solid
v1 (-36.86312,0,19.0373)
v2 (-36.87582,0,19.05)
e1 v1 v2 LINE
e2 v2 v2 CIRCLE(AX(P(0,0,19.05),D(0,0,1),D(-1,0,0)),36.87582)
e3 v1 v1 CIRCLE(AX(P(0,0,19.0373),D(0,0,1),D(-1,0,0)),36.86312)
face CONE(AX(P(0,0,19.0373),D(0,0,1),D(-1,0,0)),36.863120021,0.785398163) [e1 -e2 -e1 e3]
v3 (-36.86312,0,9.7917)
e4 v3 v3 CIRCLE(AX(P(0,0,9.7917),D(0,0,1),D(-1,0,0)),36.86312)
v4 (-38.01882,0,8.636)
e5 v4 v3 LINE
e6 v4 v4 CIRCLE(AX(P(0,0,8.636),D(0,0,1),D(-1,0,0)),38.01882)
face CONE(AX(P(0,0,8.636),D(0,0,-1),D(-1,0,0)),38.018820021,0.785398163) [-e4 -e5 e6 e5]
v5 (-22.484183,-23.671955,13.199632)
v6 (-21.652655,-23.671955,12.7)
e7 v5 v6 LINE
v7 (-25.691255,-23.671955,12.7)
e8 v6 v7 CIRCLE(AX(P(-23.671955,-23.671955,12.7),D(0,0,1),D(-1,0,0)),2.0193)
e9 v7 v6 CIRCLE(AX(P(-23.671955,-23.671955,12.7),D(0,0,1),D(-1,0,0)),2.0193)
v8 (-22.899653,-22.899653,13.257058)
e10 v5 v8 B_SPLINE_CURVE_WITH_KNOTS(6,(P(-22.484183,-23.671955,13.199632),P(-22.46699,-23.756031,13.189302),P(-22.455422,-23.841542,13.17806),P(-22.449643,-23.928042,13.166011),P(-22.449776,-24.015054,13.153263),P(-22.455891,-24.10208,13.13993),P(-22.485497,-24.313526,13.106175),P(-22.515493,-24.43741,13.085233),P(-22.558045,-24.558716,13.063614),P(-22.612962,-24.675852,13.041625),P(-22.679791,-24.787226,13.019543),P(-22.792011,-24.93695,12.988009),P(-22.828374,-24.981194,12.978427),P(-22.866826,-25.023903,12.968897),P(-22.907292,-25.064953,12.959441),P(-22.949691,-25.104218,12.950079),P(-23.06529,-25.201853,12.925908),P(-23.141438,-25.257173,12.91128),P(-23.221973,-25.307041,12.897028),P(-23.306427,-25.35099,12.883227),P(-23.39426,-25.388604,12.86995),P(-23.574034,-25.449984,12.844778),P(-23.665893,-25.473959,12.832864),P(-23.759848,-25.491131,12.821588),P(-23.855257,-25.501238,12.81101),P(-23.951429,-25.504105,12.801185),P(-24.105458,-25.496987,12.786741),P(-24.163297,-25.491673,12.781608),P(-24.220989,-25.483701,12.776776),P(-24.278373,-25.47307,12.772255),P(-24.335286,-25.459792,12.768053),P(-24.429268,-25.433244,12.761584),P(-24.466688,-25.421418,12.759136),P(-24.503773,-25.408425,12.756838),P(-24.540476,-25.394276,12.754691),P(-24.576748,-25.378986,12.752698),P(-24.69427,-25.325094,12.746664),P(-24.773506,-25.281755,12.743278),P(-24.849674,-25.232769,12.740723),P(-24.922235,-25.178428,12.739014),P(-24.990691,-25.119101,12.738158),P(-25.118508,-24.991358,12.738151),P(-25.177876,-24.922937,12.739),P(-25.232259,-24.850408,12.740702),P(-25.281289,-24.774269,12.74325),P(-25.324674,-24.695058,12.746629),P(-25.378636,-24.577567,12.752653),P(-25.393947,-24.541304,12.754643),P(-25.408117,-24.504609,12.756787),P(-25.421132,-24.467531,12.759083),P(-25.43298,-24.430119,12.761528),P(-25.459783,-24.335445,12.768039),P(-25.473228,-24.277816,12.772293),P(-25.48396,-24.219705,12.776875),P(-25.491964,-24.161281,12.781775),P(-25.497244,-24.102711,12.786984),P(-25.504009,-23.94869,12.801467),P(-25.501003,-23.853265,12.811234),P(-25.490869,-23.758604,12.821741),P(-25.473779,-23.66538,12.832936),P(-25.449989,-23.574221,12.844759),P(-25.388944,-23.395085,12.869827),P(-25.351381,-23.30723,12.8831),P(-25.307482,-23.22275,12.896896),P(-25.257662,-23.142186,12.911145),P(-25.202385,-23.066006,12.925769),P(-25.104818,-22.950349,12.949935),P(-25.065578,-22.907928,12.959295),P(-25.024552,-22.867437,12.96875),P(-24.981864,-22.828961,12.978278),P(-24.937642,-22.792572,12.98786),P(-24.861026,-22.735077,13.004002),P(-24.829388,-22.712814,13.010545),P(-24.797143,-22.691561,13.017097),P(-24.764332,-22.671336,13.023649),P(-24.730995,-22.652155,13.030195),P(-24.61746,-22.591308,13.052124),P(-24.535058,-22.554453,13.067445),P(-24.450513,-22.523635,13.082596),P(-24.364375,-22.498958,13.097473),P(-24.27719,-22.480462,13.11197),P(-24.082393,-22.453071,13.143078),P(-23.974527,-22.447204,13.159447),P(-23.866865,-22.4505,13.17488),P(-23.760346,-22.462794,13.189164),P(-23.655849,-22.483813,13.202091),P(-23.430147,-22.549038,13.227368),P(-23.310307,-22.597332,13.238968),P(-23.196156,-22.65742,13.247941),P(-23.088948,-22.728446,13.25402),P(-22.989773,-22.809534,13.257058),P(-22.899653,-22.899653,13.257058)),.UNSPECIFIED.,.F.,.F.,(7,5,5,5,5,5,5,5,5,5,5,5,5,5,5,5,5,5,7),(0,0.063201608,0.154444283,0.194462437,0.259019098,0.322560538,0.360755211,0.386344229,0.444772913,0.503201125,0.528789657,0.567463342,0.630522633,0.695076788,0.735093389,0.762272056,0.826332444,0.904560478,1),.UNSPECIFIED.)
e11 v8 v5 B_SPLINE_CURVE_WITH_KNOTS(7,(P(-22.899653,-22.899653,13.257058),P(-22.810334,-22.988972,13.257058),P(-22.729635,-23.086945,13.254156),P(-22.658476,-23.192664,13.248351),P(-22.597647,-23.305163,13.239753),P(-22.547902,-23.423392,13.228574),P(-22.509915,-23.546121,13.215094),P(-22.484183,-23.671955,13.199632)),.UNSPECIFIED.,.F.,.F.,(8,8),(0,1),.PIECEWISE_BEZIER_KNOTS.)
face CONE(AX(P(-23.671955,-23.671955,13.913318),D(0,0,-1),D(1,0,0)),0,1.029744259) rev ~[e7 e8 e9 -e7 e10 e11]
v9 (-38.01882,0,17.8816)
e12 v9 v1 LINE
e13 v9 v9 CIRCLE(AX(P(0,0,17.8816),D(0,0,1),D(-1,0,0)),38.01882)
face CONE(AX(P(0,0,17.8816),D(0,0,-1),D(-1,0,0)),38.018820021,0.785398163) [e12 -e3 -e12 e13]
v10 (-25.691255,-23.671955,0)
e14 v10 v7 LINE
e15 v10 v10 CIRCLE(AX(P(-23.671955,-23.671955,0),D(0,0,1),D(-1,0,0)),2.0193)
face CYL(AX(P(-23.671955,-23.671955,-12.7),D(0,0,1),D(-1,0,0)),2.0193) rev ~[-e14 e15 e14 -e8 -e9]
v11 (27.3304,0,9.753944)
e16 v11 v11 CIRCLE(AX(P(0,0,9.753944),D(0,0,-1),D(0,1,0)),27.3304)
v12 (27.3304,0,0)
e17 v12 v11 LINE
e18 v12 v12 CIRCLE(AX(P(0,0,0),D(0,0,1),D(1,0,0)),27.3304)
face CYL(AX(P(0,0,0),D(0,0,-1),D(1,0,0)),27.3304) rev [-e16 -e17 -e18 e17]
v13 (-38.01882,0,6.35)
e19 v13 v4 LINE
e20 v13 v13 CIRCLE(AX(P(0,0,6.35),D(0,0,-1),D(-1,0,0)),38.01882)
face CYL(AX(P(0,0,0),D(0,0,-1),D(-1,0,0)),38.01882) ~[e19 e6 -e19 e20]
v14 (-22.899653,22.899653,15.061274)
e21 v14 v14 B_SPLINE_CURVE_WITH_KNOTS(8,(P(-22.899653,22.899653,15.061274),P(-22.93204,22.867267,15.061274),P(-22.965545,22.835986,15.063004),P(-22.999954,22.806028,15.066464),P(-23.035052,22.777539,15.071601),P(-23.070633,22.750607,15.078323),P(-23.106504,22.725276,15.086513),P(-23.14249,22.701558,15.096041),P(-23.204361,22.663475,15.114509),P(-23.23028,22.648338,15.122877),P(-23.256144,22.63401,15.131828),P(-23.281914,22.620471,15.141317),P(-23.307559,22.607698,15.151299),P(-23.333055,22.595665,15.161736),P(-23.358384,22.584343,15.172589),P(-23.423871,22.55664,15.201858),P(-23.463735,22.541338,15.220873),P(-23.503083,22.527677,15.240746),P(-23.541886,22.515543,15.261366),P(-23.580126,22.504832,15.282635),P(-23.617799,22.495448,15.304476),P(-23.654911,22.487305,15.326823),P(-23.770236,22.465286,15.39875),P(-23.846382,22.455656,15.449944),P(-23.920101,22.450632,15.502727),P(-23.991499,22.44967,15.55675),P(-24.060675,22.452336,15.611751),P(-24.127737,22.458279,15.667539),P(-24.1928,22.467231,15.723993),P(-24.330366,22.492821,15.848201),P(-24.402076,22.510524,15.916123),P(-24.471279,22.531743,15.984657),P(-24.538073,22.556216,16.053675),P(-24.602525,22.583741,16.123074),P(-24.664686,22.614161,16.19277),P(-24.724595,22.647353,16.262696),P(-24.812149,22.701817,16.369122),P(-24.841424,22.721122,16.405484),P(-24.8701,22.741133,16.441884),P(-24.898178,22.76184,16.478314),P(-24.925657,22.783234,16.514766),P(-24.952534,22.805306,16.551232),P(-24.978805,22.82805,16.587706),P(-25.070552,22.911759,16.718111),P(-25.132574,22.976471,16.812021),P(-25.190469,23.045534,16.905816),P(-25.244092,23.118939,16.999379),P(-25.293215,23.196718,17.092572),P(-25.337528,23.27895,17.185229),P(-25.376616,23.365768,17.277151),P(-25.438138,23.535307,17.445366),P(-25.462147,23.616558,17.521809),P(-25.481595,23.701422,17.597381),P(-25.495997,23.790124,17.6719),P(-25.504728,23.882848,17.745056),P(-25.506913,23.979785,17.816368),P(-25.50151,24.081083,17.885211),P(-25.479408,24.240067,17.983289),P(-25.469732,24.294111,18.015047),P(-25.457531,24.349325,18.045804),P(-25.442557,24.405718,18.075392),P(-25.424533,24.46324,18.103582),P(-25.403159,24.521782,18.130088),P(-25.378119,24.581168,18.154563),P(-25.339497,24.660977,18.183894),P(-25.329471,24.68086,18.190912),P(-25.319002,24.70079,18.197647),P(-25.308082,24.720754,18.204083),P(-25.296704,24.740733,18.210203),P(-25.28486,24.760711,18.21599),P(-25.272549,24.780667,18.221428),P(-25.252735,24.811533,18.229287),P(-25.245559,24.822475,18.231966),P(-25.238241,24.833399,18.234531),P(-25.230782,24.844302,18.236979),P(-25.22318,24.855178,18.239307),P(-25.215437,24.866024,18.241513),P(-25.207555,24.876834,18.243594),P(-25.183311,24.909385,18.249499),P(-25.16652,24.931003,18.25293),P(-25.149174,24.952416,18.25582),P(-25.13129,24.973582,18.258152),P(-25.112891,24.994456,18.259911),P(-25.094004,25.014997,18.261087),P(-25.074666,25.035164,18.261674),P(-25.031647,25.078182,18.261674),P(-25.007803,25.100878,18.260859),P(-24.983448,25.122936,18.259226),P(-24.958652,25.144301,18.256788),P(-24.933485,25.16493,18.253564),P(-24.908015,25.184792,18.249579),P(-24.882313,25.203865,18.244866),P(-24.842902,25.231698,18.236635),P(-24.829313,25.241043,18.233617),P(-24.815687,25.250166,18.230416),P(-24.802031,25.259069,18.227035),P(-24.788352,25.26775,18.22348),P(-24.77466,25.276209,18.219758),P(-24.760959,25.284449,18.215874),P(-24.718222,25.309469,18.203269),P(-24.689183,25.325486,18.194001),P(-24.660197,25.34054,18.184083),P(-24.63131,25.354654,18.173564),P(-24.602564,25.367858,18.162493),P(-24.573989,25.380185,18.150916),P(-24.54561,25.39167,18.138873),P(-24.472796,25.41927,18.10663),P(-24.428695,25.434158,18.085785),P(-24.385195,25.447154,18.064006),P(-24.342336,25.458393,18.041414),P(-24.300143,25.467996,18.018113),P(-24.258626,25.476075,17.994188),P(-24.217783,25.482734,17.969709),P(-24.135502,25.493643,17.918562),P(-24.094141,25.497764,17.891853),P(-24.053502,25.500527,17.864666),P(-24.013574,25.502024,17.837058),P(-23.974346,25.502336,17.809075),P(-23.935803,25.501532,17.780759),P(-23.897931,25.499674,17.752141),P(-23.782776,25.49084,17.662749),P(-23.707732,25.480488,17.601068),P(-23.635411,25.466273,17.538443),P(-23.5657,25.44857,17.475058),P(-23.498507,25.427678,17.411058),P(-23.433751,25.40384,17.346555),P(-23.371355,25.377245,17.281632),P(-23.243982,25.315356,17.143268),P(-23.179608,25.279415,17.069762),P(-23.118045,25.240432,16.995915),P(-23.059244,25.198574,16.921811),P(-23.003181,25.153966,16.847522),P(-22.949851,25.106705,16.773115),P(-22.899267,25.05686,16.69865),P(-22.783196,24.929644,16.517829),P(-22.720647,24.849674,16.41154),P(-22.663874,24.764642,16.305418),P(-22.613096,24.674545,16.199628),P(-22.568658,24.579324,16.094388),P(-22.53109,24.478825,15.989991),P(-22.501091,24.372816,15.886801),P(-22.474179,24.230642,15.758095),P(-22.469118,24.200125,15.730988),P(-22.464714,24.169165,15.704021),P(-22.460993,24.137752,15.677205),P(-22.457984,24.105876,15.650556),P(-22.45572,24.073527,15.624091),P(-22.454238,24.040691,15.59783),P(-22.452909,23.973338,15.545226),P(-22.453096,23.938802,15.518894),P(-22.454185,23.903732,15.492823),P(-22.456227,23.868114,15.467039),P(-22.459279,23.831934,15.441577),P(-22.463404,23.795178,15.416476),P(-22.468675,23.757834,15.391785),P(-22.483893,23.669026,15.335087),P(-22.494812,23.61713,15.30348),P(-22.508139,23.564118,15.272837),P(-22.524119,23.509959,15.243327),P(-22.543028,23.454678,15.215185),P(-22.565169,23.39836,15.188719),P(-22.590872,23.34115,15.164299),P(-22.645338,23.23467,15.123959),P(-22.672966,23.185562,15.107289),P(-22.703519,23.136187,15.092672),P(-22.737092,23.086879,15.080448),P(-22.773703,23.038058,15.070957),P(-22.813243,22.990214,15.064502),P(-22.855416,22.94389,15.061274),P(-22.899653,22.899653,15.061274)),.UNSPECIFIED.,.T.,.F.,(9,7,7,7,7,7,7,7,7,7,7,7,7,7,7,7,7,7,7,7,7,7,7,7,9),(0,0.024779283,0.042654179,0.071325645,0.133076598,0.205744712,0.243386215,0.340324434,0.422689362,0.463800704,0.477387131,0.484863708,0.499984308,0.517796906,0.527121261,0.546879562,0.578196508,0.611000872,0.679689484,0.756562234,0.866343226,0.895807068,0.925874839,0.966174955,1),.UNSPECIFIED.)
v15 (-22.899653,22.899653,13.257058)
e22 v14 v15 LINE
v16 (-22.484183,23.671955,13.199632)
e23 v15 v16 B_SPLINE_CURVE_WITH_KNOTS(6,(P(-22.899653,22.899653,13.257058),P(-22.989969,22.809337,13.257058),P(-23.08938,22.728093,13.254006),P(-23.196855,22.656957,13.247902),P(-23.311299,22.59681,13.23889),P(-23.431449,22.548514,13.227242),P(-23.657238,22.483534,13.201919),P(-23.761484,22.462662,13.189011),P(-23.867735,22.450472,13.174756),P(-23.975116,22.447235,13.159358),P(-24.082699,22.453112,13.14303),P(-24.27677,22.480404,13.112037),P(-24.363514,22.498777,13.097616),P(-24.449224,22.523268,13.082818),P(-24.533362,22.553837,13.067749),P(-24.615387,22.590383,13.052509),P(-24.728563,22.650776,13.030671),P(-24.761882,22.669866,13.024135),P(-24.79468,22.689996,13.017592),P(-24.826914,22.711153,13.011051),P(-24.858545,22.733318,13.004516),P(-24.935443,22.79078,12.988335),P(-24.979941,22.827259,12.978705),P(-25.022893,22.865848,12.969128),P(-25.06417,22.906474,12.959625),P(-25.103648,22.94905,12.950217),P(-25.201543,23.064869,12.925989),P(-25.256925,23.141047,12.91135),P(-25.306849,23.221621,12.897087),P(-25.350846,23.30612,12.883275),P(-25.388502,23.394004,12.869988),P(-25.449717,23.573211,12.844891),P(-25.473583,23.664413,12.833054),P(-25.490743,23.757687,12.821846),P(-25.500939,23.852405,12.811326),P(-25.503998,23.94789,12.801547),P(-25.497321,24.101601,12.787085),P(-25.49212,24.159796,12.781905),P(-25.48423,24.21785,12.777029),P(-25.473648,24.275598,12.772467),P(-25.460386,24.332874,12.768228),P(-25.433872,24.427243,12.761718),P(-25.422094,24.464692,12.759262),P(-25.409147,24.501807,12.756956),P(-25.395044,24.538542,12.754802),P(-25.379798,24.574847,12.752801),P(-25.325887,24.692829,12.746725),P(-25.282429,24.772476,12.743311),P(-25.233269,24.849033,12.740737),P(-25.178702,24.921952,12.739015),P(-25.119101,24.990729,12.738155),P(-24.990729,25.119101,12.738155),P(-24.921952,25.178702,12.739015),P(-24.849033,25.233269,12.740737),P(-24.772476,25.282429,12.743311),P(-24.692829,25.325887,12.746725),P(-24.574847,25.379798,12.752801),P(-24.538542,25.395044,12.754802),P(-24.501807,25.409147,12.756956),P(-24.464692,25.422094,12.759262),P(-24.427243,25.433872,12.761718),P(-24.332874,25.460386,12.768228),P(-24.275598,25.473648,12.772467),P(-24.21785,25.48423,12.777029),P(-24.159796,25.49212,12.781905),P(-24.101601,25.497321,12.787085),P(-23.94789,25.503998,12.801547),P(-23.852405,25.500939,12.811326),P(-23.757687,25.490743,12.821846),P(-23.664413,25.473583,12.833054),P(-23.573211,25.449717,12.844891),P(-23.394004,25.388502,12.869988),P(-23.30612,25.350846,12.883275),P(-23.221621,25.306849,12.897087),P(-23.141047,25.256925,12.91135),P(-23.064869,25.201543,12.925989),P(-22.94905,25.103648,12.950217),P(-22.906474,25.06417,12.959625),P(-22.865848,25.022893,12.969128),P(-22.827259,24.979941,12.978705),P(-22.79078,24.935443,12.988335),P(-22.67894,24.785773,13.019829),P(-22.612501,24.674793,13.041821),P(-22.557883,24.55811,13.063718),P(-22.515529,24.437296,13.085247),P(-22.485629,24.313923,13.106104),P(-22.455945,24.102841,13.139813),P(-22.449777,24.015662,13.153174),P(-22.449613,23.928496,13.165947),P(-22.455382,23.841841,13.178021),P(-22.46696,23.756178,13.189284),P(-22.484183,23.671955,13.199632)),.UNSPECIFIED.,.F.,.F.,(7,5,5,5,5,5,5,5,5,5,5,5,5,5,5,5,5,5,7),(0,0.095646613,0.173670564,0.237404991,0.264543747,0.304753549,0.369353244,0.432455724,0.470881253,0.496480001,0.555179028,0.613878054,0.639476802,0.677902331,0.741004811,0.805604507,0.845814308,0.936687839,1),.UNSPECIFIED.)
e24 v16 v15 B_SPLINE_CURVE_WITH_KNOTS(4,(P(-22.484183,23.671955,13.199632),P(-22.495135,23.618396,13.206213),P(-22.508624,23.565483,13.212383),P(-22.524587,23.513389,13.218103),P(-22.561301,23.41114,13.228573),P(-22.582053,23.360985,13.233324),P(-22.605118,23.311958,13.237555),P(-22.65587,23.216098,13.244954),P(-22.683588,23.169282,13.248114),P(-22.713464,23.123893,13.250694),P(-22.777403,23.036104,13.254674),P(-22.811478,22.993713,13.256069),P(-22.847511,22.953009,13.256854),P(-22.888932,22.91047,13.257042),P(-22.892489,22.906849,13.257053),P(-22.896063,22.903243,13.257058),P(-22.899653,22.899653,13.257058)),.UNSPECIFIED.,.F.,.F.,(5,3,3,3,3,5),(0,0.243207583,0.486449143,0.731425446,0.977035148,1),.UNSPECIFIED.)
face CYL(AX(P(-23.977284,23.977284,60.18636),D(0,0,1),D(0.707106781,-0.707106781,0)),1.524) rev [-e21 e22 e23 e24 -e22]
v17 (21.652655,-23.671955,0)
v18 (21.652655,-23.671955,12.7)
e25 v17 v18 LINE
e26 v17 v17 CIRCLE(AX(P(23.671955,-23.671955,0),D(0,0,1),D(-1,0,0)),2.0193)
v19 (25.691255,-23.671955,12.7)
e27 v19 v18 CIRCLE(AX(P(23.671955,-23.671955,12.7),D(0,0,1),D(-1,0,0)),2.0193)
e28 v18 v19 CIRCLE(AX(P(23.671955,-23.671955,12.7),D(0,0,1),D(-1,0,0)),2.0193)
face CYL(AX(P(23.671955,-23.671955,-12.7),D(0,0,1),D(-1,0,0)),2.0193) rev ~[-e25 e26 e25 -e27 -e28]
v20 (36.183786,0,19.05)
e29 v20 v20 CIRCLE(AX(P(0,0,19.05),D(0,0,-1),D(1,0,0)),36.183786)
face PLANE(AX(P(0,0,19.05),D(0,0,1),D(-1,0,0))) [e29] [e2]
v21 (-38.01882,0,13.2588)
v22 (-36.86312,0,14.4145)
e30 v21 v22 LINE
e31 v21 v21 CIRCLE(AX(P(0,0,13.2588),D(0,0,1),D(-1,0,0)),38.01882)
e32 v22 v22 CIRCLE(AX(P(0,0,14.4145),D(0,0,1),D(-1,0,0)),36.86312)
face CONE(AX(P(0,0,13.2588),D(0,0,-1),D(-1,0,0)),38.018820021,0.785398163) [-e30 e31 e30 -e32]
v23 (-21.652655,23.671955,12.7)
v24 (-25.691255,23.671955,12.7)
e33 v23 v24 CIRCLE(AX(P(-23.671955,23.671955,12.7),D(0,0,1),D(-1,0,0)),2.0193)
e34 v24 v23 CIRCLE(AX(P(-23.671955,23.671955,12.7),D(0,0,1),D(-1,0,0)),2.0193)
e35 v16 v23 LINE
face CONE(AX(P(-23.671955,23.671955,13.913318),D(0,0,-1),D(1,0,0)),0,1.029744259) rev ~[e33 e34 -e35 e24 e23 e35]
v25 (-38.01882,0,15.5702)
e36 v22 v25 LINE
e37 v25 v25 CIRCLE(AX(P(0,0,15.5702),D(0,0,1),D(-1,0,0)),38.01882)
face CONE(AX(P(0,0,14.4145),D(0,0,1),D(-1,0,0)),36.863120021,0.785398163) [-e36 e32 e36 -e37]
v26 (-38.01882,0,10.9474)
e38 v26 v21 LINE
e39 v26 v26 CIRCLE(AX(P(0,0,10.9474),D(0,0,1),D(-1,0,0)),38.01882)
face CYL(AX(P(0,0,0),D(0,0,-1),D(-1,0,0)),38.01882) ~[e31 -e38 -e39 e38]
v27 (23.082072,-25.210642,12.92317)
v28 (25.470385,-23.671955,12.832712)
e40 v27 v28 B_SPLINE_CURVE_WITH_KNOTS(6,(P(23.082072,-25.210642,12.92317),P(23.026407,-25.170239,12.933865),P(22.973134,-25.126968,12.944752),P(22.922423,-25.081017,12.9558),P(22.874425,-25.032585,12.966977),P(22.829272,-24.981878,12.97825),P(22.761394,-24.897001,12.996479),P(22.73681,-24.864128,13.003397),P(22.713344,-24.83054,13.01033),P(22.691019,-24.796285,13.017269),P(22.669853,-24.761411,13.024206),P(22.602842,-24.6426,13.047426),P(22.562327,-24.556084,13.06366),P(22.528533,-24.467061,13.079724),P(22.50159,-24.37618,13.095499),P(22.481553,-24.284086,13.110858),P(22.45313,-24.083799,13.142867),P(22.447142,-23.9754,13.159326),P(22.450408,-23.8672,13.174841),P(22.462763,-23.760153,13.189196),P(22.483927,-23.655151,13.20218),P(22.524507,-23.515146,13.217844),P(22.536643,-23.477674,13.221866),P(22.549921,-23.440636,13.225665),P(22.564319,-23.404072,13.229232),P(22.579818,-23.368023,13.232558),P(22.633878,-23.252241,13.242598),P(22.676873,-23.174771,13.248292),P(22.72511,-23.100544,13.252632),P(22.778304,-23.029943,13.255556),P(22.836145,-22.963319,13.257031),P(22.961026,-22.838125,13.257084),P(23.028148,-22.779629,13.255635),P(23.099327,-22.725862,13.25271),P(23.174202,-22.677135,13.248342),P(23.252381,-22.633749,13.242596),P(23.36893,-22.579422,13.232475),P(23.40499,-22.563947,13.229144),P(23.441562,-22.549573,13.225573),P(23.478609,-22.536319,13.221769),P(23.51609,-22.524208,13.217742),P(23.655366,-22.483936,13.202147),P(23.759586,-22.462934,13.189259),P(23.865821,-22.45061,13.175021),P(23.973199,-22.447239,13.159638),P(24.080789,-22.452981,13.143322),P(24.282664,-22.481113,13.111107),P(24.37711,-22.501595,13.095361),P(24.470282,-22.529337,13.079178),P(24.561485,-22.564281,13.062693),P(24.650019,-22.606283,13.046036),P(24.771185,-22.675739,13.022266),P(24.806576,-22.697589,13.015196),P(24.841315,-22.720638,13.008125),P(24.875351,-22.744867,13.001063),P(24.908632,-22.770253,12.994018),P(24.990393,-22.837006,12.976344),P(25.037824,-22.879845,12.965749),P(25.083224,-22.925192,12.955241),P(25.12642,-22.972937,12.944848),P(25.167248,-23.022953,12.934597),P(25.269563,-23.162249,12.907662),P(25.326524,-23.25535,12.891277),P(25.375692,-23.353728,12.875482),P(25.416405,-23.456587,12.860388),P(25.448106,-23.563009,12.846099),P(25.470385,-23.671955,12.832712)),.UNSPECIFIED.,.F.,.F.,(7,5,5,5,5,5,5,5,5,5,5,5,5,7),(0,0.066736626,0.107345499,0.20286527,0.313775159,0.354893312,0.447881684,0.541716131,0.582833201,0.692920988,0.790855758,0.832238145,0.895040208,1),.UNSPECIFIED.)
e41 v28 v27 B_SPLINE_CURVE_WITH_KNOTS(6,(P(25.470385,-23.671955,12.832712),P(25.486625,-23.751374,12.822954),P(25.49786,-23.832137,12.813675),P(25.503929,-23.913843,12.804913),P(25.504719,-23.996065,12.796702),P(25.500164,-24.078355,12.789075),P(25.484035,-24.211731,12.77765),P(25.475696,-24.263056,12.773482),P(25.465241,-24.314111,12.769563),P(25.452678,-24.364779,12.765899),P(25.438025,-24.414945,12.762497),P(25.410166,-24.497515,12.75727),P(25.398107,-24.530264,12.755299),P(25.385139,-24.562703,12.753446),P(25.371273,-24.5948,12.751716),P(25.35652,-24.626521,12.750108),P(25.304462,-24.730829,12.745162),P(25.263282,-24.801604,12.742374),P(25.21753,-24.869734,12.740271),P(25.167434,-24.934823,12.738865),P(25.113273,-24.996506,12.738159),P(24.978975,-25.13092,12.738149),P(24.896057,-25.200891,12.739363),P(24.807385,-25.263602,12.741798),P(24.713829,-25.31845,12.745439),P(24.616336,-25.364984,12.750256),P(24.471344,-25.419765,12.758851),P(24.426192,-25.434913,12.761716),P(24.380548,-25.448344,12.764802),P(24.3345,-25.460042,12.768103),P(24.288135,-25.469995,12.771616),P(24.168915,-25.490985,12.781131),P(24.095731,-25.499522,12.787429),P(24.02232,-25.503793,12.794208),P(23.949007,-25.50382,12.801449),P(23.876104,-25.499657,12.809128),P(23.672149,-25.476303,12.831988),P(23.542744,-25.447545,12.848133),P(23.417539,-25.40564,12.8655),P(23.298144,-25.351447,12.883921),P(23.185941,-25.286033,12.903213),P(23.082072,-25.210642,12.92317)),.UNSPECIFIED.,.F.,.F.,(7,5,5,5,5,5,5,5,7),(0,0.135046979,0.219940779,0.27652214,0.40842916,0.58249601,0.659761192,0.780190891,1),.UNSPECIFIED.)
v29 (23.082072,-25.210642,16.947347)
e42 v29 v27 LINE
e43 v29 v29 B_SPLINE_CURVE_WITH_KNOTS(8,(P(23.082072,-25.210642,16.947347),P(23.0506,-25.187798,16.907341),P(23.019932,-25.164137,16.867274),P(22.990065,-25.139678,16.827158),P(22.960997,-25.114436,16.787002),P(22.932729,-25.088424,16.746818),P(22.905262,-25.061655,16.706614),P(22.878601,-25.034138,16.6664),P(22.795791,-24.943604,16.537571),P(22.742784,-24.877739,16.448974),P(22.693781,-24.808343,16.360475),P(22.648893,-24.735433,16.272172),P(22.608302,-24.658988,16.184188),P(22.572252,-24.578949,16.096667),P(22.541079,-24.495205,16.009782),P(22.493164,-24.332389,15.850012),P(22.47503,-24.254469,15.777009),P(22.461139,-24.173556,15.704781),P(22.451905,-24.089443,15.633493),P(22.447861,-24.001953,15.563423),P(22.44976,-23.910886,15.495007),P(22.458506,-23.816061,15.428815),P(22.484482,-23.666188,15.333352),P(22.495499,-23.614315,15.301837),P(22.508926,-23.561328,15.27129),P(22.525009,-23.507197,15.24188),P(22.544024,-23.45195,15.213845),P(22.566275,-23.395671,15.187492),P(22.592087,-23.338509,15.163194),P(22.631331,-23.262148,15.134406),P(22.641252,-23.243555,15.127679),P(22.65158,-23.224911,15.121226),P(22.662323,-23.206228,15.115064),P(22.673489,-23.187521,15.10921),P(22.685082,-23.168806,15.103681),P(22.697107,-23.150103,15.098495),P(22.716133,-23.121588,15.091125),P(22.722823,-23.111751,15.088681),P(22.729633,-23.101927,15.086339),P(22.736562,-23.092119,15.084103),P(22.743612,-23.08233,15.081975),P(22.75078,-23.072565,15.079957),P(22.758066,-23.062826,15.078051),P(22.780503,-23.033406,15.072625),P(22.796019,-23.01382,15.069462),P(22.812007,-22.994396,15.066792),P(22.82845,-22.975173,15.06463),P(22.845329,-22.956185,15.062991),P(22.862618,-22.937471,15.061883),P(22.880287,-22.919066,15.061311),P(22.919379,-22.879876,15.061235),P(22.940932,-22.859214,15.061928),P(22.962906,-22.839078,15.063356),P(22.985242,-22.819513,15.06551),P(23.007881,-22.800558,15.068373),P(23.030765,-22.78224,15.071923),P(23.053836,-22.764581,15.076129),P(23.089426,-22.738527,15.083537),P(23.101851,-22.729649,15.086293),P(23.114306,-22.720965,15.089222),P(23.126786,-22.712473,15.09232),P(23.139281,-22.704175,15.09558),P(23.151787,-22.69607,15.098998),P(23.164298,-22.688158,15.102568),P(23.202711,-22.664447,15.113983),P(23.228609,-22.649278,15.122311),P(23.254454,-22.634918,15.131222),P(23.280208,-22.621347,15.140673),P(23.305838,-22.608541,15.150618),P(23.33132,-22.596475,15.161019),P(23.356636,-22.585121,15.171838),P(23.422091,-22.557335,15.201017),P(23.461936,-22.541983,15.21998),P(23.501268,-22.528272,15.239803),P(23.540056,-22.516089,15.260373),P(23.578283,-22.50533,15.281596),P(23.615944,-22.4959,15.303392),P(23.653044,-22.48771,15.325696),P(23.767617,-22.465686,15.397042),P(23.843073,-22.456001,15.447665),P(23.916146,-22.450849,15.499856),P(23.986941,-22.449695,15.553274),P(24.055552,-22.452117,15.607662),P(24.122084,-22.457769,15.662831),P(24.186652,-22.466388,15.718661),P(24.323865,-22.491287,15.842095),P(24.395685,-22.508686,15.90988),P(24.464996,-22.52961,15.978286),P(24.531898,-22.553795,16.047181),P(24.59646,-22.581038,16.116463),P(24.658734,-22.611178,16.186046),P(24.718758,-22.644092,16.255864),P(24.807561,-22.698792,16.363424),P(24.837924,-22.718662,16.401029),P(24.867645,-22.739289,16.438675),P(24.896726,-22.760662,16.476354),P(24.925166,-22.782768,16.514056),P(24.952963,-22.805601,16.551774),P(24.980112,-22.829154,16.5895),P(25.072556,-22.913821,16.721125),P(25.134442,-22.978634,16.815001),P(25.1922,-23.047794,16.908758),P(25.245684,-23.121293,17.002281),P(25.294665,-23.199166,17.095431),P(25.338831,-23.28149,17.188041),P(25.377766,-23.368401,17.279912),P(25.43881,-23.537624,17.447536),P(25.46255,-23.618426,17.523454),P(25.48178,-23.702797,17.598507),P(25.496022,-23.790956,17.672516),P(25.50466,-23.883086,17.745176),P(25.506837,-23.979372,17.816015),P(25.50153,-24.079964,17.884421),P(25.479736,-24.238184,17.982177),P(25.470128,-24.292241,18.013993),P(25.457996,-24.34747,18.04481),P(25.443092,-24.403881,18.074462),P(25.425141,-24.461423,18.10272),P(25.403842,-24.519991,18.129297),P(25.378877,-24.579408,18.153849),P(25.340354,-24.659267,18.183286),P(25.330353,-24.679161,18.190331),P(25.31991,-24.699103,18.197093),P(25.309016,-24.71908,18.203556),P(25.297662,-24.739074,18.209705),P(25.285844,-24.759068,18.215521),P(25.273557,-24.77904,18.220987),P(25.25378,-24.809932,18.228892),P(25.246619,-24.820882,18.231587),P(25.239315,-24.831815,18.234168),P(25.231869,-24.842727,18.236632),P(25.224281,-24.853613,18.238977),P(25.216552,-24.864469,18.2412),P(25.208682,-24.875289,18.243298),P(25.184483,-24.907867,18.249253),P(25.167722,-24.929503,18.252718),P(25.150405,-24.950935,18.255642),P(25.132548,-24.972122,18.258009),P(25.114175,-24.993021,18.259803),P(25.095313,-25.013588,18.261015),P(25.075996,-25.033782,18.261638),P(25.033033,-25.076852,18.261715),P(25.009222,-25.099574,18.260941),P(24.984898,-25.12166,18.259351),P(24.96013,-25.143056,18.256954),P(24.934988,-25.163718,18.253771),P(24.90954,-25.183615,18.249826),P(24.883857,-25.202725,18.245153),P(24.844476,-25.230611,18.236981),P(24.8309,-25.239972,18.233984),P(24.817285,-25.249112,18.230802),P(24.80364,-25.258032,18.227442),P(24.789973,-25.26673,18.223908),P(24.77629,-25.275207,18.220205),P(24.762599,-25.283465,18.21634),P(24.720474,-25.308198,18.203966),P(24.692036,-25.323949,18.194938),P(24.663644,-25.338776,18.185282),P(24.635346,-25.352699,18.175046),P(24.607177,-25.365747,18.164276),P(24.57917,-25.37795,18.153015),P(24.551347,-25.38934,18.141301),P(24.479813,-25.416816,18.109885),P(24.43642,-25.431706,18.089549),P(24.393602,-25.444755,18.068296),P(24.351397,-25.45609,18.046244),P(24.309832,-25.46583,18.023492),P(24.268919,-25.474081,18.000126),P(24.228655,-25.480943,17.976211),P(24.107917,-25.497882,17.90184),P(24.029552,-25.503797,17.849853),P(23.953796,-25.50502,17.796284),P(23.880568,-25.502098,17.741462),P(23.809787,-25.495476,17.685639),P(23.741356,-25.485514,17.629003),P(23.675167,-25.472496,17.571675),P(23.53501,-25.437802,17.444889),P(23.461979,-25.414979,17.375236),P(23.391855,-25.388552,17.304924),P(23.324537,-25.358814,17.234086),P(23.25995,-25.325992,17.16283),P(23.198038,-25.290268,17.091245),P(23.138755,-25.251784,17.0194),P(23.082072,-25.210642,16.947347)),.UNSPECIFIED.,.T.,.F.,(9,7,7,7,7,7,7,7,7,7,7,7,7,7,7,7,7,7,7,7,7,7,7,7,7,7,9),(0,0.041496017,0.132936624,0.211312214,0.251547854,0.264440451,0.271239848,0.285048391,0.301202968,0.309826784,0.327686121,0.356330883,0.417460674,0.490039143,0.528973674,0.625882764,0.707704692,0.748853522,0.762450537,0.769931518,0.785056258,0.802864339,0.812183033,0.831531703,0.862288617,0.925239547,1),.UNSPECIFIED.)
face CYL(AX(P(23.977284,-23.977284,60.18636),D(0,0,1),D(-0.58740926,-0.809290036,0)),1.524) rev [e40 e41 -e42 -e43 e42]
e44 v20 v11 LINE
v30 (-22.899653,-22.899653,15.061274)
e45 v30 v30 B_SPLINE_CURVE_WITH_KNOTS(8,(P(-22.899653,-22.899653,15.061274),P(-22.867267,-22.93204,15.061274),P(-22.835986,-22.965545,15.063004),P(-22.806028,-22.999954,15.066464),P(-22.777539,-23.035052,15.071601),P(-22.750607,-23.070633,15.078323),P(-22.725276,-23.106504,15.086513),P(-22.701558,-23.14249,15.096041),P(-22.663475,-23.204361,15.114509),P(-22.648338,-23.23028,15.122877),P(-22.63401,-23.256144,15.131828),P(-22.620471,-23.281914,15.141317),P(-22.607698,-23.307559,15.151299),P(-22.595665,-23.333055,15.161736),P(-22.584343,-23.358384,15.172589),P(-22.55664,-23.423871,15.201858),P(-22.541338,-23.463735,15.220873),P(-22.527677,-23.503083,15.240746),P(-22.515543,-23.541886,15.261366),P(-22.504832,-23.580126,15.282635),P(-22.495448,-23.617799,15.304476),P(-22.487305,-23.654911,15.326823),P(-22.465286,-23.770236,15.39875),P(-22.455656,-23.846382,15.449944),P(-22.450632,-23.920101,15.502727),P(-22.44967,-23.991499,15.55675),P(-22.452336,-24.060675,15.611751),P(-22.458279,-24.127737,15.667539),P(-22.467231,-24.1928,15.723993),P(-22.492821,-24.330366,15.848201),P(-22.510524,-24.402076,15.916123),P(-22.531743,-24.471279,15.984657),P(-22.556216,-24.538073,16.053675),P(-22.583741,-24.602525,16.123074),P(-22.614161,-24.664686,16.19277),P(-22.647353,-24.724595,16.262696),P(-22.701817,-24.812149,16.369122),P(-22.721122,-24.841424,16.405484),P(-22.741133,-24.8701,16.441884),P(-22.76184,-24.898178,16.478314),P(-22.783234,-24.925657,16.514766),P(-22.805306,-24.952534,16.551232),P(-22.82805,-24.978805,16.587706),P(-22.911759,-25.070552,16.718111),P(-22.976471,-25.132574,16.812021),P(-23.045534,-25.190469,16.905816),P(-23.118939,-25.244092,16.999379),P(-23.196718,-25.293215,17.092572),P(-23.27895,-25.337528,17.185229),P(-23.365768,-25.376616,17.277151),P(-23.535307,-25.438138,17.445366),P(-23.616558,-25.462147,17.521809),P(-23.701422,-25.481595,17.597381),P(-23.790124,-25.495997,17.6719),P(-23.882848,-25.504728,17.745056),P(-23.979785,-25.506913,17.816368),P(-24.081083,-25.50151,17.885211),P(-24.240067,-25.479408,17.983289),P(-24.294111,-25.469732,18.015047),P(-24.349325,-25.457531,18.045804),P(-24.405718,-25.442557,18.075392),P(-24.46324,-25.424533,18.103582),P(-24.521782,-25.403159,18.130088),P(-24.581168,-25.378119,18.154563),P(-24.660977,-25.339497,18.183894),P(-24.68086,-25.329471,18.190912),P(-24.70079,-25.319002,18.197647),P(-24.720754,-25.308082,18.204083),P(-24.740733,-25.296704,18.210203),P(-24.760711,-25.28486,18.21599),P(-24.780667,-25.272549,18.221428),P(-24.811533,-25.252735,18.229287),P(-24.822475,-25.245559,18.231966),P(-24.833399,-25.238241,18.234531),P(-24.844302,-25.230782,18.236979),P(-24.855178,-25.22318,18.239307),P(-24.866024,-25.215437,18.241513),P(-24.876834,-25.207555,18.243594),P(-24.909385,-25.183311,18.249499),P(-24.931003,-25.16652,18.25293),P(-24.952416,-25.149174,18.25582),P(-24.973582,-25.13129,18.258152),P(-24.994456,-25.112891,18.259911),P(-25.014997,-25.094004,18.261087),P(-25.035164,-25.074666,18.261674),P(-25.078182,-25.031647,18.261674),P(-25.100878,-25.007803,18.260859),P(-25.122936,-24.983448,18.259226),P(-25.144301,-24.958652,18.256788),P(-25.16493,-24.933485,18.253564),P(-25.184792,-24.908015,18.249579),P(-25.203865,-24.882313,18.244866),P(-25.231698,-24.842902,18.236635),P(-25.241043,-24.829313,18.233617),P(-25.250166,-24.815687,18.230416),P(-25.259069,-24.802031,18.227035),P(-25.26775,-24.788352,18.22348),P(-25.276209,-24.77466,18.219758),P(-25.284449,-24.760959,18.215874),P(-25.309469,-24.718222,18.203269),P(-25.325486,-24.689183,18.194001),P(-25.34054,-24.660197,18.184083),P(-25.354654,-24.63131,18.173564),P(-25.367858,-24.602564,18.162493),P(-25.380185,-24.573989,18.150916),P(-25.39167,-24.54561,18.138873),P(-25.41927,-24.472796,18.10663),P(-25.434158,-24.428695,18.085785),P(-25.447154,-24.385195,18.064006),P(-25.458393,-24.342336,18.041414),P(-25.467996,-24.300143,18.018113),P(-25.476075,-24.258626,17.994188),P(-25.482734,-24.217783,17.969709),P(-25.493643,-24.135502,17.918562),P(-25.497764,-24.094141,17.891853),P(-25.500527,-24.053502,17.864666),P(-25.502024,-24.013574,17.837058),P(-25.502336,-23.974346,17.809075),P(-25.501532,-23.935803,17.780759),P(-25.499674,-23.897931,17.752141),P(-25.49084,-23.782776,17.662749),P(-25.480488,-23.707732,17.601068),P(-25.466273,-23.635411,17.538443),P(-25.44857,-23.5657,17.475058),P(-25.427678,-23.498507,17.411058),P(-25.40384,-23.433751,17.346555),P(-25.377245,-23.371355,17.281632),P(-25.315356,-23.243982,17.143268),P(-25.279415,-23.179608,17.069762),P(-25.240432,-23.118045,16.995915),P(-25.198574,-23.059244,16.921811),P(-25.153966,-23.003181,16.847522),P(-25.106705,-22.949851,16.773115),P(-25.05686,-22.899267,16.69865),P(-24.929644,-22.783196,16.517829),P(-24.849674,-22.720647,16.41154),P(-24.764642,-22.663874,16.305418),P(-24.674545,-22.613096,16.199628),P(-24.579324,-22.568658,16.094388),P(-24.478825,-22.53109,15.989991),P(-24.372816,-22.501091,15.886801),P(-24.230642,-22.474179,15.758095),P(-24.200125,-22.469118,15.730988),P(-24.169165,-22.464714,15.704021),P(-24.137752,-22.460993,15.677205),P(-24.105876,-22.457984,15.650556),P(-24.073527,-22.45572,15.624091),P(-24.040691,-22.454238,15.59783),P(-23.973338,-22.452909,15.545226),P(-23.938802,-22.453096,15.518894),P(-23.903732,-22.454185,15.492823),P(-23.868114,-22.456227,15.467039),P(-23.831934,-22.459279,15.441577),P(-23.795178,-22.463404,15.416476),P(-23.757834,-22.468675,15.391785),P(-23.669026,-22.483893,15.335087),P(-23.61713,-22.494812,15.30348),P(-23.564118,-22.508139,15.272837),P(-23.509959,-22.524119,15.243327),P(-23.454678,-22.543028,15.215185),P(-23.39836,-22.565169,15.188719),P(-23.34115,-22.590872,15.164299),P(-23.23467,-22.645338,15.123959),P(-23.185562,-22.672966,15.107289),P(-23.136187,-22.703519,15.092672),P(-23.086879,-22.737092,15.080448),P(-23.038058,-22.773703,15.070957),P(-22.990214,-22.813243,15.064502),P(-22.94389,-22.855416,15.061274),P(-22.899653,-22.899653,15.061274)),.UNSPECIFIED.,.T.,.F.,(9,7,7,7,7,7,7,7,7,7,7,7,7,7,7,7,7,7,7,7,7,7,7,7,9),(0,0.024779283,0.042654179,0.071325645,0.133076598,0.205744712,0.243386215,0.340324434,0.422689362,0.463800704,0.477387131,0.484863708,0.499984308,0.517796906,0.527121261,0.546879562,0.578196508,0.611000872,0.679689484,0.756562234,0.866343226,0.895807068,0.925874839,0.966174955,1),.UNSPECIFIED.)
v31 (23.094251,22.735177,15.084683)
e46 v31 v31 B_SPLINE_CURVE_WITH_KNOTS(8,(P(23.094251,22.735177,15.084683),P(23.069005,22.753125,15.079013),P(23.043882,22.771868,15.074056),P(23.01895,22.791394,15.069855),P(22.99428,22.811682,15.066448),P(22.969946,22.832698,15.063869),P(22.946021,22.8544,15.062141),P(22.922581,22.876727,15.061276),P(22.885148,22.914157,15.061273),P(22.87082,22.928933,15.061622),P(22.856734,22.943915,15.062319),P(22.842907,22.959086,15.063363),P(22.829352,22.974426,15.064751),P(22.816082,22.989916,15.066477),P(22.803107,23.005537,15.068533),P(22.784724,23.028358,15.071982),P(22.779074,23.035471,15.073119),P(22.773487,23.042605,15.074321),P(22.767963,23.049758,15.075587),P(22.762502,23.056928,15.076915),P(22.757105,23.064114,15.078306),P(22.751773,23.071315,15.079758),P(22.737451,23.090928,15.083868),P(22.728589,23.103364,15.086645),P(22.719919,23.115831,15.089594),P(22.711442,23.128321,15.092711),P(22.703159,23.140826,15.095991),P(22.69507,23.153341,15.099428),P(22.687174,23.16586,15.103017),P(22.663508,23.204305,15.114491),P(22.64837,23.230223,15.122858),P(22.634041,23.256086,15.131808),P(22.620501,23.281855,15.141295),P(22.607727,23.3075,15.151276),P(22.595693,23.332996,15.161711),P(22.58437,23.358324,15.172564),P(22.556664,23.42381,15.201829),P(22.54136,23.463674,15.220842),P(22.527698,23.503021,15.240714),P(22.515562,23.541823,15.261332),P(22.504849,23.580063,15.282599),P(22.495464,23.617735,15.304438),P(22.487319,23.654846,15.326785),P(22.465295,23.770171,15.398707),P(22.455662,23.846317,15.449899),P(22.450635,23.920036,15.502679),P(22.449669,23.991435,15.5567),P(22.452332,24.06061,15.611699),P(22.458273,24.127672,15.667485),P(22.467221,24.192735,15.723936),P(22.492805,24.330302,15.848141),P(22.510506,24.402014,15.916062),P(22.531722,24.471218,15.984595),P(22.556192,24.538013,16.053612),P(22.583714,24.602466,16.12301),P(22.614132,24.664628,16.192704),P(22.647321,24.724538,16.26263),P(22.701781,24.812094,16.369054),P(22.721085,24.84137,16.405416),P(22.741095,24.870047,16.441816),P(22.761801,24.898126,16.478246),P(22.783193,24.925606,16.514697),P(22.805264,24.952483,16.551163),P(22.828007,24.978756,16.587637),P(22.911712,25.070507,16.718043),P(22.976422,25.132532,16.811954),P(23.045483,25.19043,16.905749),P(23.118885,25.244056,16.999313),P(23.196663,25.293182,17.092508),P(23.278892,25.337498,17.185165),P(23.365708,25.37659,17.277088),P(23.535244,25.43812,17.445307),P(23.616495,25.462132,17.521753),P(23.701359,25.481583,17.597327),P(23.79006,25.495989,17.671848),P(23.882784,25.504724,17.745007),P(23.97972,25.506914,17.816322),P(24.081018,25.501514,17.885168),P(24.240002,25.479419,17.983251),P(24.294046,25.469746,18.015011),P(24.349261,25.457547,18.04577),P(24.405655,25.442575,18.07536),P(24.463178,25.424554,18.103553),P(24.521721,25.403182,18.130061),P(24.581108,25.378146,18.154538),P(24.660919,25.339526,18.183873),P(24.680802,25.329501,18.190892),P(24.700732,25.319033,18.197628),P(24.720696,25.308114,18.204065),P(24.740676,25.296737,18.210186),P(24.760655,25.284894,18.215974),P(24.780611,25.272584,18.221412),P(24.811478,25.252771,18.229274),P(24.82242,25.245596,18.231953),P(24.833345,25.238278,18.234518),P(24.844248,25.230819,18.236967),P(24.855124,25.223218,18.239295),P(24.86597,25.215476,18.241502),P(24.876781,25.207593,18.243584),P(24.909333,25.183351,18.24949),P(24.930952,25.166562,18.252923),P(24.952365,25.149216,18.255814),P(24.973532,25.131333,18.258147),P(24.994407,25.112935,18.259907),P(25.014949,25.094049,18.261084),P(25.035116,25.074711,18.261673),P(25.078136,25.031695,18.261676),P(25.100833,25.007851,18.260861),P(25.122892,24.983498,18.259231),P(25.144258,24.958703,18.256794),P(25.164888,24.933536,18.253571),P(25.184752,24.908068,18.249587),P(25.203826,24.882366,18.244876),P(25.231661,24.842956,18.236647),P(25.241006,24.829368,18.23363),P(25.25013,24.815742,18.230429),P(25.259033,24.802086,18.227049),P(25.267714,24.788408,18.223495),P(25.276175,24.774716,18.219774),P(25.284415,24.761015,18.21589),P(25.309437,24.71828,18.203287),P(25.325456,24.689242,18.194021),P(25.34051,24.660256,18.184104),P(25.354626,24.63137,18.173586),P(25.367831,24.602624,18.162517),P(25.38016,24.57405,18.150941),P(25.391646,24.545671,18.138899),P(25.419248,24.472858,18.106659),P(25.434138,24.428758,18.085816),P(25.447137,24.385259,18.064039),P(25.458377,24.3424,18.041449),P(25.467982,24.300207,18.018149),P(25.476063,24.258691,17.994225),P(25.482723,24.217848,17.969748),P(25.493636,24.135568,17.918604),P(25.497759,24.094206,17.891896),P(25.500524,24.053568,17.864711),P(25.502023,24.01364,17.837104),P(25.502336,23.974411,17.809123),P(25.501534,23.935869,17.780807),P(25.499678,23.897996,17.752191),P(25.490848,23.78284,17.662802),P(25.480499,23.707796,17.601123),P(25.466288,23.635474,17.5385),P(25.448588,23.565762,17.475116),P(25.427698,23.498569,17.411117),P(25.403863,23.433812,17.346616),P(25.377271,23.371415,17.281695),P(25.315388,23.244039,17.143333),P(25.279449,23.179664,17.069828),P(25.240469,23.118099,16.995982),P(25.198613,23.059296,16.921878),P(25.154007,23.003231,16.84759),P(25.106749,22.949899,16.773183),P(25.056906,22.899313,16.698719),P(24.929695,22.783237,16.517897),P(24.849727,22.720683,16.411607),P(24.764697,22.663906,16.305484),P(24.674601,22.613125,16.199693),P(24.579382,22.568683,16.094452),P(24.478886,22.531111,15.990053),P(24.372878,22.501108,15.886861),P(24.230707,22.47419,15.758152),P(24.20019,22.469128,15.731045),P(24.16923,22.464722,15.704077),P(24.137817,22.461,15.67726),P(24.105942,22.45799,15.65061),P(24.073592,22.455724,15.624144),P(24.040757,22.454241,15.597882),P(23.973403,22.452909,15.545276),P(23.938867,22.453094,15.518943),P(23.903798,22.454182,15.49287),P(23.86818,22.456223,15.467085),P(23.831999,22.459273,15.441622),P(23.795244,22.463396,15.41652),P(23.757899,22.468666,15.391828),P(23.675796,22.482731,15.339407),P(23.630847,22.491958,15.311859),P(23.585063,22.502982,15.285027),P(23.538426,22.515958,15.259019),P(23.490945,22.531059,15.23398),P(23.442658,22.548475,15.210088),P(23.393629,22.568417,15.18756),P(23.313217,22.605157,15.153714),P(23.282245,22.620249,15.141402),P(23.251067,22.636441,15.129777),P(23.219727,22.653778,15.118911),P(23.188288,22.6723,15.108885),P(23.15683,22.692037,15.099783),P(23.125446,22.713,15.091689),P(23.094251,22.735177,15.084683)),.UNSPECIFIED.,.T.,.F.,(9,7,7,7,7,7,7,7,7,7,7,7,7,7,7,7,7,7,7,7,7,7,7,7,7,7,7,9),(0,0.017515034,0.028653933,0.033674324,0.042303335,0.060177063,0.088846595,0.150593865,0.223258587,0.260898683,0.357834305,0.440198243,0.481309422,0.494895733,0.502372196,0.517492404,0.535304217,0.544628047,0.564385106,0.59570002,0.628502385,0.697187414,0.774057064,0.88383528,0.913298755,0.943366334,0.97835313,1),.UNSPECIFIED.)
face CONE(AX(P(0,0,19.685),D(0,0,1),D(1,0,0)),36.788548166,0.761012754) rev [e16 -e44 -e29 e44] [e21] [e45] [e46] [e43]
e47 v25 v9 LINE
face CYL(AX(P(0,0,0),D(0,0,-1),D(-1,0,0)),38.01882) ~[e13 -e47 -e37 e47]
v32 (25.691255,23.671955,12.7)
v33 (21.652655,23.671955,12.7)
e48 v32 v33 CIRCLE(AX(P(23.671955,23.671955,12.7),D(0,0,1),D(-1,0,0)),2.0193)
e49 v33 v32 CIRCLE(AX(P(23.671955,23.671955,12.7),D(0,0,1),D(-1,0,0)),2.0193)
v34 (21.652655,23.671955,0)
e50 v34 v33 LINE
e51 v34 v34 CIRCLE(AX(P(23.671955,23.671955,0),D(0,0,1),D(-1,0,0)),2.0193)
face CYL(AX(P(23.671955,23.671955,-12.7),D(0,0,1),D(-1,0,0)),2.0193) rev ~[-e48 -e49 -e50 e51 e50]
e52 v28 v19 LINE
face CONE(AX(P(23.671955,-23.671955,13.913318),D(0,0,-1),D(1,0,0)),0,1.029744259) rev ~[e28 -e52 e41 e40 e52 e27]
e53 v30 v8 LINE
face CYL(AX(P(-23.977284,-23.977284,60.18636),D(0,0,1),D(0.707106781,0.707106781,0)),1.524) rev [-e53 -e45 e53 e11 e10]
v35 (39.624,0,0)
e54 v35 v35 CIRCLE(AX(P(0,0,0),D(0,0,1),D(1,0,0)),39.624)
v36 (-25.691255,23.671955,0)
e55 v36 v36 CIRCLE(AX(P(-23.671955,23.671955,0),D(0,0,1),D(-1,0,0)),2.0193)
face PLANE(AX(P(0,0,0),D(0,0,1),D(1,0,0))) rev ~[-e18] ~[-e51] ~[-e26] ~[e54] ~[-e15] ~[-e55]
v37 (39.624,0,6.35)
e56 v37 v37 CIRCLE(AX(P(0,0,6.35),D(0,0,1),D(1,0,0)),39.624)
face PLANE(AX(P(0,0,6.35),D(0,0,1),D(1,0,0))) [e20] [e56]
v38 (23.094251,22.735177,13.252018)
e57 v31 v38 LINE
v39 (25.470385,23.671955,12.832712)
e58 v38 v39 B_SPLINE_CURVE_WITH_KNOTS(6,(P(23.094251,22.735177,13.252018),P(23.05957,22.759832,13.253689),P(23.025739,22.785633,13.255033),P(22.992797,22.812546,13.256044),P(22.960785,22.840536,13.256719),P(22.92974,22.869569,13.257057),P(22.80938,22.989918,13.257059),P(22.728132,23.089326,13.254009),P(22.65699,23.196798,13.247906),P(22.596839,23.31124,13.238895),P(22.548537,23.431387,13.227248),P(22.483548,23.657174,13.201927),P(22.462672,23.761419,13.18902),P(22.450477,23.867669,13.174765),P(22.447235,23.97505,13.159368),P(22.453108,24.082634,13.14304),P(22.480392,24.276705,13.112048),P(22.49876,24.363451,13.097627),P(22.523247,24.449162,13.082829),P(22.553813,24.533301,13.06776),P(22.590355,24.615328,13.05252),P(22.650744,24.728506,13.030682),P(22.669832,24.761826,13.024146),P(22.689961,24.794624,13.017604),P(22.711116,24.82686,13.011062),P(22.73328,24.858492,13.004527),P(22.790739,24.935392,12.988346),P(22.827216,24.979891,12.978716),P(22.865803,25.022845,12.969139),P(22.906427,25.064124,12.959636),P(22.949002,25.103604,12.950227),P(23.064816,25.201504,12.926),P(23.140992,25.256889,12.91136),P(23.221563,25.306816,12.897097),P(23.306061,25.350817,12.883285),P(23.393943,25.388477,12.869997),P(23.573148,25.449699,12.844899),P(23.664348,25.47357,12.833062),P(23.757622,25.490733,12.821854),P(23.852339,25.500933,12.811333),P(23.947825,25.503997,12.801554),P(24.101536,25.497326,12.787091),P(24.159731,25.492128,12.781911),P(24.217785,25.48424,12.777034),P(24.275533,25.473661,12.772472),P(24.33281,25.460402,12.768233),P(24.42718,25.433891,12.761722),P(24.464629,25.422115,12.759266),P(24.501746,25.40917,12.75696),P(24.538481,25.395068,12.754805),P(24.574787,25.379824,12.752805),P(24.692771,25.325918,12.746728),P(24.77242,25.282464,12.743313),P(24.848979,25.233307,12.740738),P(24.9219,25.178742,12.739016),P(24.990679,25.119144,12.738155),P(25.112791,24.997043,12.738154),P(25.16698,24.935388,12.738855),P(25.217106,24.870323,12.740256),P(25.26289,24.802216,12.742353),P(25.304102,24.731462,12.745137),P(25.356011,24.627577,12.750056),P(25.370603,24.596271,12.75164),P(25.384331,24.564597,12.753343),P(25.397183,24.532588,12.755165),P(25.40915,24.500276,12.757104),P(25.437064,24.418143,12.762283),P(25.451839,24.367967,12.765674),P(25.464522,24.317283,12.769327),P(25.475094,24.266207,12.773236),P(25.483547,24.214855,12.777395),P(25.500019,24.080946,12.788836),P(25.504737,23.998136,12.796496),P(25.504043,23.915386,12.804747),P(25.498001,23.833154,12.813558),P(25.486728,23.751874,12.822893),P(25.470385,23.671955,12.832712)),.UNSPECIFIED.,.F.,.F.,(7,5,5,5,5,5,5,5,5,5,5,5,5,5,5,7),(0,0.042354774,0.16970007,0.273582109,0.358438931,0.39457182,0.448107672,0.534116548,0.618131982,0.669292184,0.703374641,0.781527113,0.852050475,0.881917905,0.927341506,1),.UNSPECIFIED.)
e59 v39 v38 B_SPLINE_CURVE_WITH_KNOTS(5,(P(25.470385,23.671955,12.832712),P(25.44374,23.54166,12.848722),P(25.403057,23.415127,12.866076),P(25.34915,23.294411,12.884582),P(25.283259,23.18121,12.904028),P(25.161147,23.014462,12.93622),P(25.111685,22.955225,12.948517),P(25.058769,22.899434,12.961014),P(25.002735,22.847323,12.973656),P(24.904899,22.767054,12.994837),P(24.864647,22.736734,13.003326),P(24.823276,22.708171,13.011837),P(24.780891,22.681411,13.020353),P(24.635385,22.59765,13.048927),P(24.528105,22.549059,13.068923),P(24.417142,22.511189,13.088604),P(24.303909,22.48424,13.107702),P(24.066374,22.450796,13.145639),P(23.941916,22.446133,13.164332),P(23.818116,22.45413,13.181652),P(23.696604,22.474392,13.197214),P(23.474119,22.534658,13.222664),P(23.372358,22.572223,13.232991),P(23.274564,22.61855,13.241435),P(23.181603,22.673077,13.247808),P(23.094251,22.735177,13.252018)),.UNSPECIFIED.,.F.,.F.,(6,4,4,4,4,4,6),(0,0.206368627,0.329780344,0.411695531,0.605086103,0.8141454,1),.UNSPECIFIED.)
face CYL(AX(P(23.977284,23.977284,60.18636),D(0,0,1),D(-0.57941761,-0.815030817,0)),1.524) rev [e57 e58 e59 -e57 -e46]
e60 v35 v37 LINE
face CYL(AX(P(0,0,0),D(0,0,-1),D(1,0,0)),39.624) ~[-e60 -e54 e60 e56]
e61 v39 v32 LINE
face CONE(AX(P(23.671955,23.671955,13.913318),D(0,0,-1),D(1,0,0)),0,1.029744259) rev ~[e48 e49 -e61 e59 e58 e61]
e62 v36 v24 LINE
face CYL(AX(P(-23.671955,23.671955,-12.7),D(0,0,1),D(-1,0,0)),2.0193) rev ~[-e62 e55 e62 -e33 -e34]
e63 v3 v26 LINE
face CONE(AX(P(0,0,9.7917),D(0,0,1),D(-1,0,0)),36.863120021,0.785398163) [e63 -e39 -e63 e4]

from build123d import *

# Parameters (mm, degrees)
SKETCH2_R                  = 39.624
SKETCH2_R_2                = 27.3304
BOSS_EXTRUDE2_DEPTH        = 6.35
SKETCH5_R                  = 38.018820021
SKETCH5_R_2                = 27.3304
BOSS_EXTRUDE3_DEPTH        = 19.05
F_10_32_TAPPED_HOLE1_D     = 4.0386
F_10_32_TAPPED_HOLE1_DEPTH = 12.7
F_10_32_TAPPED_HOLE1_TIP   = 1.213317848
CUT_EXTRUDE2_DEPTH         = 60.186360354
CUT_EXTRUDE2_DEPTH_BACK    = 60.186360354
SKETCH16_R                 = 1.524


with BuildPart() as part:
    # Sketch2 → Boss-Extrude2 (new body)
    with BuildSketch(Plane.XY):
        Circle(SKETCH2_R)
        Circle(SKETCH2_R_2, mode=Mode.SUBTRACT)
    extrude(amount=BOSS_EXTRUDE2_DEPTH)

    # Sketch5 → Boss-Extrude3 (add)
    with BuildSketch(Plane.XY):
        Circle(SKETCH5_R)
        Circle(SKETCH5_R_2, mode=Mode.SUBTRACT)
    extrude(amount=BOSS_EXTRUDE3_DEPTH)

    # Sketch10 → Cut-Revolve2 (revolve, cut)
    with BuildSketch(Plane(origin=(0, 0, 0), x_dir=(0, 0, -1), z_dir=(1, 0, 0))):
        Polygon((-29.4386, 38.018820021), (-27.1272, 38.018820021), (-28.2829, 36.863120021), align=None)
        Polygon((-24.8158, 38.018820021), (-22.5044, 38.018820021), (-23.6601, 36.863120021), align=None)
        Polygon((-20.193, 38.018820021), (-17.8816, 38.018820021), (-19.0373, 36.863120021), align=None)
        Polygon((-15.5702, 38.018820021), (-13.2588, 38.018820021), (-14.4145, 36.863120021), align=None)
        Polygon((-10.9474, 38.018820021), (-8.636, 38.018820021), (-9.7917, 36.863120021), align=None)
    revolve(axis=Axis((0, 0, 50.084179241), (0, 0, 1)), mode=Mode.SUBTRACT)

    # Sketch11 → Cut-Revolve3 (revolve, cut)
    with BuildSketch(Plane(origin=(0, 0, 0), x_dir=(0, 0, -1), z_dir=(1, 0, 0))):
        Polygon((-19.685, 36.788548166), (-6.35, 24.088548166), (-19.685, 24.088548166), align=None)
    revolve(axis=Axis((0, 0, 43.100386529), (0, 0, 1)), mode=Mode.SUBTRACT)

    # #10-32 Tapped Hole1
    with Locations(Plane(origin=(0, 0, 0), x_dir=(1, 0, 0), z_dir=(0, 0, -1))):
        with Locations((23.671955135, 23.671955135), (0, 0), (23.671955135, -23.671955135), (-23.671955135, 23.671955135), (-23.671955135, -23.671955135)):
            Hole(F_10_32_TAPPED_HOLE1_D / 2, depth=F_10_32_TAPPED_HOLE1_DEPTH)
            with Locations((0, 0, -(F_10_32_TAPPED_HOLE1_DEPTH + F_10_32_TAPPED_HOLE1_TIP / 2))):  # 118° drill point
                Cone(0, F_10_32_TAPPED_HOLE1_D / 2, F_10_32_TAPPED_HOLE1_TIP, mode=Mode.SUBTRACT)

    # Sketch16 → Cut-Extrude2 (cut, two sides: drawn at the far end of the back side and taken through both)
    with BuildSketch(Plane(origin=(0, 0, 0), x_dir=(-1, 0, 0), z_dir=(0, 0, -1)).offset(-CUT_EXTRUDE2_DEPTH_BACK)):
        with Locations((23.977283843, 23.977283843)):
            Circle(SKETCH16_R)
        with Locations((-23.977283843, 23.977283843)):
            Circle(SKETCH16_R)
        with Locations((-23.977283843, -23.977283843)):
            Circle(SKETCH16_R)
        with Locations((23.977283843, -23.977283843)):
            Circle(SKETCH16_R)
    extrude(amount=CUT_EXTRUDE2_DEPTH + CUT_EXTRUDE2_DEPTH_BACK, mode=Mode.SUBTRACT)


solid = part.part
